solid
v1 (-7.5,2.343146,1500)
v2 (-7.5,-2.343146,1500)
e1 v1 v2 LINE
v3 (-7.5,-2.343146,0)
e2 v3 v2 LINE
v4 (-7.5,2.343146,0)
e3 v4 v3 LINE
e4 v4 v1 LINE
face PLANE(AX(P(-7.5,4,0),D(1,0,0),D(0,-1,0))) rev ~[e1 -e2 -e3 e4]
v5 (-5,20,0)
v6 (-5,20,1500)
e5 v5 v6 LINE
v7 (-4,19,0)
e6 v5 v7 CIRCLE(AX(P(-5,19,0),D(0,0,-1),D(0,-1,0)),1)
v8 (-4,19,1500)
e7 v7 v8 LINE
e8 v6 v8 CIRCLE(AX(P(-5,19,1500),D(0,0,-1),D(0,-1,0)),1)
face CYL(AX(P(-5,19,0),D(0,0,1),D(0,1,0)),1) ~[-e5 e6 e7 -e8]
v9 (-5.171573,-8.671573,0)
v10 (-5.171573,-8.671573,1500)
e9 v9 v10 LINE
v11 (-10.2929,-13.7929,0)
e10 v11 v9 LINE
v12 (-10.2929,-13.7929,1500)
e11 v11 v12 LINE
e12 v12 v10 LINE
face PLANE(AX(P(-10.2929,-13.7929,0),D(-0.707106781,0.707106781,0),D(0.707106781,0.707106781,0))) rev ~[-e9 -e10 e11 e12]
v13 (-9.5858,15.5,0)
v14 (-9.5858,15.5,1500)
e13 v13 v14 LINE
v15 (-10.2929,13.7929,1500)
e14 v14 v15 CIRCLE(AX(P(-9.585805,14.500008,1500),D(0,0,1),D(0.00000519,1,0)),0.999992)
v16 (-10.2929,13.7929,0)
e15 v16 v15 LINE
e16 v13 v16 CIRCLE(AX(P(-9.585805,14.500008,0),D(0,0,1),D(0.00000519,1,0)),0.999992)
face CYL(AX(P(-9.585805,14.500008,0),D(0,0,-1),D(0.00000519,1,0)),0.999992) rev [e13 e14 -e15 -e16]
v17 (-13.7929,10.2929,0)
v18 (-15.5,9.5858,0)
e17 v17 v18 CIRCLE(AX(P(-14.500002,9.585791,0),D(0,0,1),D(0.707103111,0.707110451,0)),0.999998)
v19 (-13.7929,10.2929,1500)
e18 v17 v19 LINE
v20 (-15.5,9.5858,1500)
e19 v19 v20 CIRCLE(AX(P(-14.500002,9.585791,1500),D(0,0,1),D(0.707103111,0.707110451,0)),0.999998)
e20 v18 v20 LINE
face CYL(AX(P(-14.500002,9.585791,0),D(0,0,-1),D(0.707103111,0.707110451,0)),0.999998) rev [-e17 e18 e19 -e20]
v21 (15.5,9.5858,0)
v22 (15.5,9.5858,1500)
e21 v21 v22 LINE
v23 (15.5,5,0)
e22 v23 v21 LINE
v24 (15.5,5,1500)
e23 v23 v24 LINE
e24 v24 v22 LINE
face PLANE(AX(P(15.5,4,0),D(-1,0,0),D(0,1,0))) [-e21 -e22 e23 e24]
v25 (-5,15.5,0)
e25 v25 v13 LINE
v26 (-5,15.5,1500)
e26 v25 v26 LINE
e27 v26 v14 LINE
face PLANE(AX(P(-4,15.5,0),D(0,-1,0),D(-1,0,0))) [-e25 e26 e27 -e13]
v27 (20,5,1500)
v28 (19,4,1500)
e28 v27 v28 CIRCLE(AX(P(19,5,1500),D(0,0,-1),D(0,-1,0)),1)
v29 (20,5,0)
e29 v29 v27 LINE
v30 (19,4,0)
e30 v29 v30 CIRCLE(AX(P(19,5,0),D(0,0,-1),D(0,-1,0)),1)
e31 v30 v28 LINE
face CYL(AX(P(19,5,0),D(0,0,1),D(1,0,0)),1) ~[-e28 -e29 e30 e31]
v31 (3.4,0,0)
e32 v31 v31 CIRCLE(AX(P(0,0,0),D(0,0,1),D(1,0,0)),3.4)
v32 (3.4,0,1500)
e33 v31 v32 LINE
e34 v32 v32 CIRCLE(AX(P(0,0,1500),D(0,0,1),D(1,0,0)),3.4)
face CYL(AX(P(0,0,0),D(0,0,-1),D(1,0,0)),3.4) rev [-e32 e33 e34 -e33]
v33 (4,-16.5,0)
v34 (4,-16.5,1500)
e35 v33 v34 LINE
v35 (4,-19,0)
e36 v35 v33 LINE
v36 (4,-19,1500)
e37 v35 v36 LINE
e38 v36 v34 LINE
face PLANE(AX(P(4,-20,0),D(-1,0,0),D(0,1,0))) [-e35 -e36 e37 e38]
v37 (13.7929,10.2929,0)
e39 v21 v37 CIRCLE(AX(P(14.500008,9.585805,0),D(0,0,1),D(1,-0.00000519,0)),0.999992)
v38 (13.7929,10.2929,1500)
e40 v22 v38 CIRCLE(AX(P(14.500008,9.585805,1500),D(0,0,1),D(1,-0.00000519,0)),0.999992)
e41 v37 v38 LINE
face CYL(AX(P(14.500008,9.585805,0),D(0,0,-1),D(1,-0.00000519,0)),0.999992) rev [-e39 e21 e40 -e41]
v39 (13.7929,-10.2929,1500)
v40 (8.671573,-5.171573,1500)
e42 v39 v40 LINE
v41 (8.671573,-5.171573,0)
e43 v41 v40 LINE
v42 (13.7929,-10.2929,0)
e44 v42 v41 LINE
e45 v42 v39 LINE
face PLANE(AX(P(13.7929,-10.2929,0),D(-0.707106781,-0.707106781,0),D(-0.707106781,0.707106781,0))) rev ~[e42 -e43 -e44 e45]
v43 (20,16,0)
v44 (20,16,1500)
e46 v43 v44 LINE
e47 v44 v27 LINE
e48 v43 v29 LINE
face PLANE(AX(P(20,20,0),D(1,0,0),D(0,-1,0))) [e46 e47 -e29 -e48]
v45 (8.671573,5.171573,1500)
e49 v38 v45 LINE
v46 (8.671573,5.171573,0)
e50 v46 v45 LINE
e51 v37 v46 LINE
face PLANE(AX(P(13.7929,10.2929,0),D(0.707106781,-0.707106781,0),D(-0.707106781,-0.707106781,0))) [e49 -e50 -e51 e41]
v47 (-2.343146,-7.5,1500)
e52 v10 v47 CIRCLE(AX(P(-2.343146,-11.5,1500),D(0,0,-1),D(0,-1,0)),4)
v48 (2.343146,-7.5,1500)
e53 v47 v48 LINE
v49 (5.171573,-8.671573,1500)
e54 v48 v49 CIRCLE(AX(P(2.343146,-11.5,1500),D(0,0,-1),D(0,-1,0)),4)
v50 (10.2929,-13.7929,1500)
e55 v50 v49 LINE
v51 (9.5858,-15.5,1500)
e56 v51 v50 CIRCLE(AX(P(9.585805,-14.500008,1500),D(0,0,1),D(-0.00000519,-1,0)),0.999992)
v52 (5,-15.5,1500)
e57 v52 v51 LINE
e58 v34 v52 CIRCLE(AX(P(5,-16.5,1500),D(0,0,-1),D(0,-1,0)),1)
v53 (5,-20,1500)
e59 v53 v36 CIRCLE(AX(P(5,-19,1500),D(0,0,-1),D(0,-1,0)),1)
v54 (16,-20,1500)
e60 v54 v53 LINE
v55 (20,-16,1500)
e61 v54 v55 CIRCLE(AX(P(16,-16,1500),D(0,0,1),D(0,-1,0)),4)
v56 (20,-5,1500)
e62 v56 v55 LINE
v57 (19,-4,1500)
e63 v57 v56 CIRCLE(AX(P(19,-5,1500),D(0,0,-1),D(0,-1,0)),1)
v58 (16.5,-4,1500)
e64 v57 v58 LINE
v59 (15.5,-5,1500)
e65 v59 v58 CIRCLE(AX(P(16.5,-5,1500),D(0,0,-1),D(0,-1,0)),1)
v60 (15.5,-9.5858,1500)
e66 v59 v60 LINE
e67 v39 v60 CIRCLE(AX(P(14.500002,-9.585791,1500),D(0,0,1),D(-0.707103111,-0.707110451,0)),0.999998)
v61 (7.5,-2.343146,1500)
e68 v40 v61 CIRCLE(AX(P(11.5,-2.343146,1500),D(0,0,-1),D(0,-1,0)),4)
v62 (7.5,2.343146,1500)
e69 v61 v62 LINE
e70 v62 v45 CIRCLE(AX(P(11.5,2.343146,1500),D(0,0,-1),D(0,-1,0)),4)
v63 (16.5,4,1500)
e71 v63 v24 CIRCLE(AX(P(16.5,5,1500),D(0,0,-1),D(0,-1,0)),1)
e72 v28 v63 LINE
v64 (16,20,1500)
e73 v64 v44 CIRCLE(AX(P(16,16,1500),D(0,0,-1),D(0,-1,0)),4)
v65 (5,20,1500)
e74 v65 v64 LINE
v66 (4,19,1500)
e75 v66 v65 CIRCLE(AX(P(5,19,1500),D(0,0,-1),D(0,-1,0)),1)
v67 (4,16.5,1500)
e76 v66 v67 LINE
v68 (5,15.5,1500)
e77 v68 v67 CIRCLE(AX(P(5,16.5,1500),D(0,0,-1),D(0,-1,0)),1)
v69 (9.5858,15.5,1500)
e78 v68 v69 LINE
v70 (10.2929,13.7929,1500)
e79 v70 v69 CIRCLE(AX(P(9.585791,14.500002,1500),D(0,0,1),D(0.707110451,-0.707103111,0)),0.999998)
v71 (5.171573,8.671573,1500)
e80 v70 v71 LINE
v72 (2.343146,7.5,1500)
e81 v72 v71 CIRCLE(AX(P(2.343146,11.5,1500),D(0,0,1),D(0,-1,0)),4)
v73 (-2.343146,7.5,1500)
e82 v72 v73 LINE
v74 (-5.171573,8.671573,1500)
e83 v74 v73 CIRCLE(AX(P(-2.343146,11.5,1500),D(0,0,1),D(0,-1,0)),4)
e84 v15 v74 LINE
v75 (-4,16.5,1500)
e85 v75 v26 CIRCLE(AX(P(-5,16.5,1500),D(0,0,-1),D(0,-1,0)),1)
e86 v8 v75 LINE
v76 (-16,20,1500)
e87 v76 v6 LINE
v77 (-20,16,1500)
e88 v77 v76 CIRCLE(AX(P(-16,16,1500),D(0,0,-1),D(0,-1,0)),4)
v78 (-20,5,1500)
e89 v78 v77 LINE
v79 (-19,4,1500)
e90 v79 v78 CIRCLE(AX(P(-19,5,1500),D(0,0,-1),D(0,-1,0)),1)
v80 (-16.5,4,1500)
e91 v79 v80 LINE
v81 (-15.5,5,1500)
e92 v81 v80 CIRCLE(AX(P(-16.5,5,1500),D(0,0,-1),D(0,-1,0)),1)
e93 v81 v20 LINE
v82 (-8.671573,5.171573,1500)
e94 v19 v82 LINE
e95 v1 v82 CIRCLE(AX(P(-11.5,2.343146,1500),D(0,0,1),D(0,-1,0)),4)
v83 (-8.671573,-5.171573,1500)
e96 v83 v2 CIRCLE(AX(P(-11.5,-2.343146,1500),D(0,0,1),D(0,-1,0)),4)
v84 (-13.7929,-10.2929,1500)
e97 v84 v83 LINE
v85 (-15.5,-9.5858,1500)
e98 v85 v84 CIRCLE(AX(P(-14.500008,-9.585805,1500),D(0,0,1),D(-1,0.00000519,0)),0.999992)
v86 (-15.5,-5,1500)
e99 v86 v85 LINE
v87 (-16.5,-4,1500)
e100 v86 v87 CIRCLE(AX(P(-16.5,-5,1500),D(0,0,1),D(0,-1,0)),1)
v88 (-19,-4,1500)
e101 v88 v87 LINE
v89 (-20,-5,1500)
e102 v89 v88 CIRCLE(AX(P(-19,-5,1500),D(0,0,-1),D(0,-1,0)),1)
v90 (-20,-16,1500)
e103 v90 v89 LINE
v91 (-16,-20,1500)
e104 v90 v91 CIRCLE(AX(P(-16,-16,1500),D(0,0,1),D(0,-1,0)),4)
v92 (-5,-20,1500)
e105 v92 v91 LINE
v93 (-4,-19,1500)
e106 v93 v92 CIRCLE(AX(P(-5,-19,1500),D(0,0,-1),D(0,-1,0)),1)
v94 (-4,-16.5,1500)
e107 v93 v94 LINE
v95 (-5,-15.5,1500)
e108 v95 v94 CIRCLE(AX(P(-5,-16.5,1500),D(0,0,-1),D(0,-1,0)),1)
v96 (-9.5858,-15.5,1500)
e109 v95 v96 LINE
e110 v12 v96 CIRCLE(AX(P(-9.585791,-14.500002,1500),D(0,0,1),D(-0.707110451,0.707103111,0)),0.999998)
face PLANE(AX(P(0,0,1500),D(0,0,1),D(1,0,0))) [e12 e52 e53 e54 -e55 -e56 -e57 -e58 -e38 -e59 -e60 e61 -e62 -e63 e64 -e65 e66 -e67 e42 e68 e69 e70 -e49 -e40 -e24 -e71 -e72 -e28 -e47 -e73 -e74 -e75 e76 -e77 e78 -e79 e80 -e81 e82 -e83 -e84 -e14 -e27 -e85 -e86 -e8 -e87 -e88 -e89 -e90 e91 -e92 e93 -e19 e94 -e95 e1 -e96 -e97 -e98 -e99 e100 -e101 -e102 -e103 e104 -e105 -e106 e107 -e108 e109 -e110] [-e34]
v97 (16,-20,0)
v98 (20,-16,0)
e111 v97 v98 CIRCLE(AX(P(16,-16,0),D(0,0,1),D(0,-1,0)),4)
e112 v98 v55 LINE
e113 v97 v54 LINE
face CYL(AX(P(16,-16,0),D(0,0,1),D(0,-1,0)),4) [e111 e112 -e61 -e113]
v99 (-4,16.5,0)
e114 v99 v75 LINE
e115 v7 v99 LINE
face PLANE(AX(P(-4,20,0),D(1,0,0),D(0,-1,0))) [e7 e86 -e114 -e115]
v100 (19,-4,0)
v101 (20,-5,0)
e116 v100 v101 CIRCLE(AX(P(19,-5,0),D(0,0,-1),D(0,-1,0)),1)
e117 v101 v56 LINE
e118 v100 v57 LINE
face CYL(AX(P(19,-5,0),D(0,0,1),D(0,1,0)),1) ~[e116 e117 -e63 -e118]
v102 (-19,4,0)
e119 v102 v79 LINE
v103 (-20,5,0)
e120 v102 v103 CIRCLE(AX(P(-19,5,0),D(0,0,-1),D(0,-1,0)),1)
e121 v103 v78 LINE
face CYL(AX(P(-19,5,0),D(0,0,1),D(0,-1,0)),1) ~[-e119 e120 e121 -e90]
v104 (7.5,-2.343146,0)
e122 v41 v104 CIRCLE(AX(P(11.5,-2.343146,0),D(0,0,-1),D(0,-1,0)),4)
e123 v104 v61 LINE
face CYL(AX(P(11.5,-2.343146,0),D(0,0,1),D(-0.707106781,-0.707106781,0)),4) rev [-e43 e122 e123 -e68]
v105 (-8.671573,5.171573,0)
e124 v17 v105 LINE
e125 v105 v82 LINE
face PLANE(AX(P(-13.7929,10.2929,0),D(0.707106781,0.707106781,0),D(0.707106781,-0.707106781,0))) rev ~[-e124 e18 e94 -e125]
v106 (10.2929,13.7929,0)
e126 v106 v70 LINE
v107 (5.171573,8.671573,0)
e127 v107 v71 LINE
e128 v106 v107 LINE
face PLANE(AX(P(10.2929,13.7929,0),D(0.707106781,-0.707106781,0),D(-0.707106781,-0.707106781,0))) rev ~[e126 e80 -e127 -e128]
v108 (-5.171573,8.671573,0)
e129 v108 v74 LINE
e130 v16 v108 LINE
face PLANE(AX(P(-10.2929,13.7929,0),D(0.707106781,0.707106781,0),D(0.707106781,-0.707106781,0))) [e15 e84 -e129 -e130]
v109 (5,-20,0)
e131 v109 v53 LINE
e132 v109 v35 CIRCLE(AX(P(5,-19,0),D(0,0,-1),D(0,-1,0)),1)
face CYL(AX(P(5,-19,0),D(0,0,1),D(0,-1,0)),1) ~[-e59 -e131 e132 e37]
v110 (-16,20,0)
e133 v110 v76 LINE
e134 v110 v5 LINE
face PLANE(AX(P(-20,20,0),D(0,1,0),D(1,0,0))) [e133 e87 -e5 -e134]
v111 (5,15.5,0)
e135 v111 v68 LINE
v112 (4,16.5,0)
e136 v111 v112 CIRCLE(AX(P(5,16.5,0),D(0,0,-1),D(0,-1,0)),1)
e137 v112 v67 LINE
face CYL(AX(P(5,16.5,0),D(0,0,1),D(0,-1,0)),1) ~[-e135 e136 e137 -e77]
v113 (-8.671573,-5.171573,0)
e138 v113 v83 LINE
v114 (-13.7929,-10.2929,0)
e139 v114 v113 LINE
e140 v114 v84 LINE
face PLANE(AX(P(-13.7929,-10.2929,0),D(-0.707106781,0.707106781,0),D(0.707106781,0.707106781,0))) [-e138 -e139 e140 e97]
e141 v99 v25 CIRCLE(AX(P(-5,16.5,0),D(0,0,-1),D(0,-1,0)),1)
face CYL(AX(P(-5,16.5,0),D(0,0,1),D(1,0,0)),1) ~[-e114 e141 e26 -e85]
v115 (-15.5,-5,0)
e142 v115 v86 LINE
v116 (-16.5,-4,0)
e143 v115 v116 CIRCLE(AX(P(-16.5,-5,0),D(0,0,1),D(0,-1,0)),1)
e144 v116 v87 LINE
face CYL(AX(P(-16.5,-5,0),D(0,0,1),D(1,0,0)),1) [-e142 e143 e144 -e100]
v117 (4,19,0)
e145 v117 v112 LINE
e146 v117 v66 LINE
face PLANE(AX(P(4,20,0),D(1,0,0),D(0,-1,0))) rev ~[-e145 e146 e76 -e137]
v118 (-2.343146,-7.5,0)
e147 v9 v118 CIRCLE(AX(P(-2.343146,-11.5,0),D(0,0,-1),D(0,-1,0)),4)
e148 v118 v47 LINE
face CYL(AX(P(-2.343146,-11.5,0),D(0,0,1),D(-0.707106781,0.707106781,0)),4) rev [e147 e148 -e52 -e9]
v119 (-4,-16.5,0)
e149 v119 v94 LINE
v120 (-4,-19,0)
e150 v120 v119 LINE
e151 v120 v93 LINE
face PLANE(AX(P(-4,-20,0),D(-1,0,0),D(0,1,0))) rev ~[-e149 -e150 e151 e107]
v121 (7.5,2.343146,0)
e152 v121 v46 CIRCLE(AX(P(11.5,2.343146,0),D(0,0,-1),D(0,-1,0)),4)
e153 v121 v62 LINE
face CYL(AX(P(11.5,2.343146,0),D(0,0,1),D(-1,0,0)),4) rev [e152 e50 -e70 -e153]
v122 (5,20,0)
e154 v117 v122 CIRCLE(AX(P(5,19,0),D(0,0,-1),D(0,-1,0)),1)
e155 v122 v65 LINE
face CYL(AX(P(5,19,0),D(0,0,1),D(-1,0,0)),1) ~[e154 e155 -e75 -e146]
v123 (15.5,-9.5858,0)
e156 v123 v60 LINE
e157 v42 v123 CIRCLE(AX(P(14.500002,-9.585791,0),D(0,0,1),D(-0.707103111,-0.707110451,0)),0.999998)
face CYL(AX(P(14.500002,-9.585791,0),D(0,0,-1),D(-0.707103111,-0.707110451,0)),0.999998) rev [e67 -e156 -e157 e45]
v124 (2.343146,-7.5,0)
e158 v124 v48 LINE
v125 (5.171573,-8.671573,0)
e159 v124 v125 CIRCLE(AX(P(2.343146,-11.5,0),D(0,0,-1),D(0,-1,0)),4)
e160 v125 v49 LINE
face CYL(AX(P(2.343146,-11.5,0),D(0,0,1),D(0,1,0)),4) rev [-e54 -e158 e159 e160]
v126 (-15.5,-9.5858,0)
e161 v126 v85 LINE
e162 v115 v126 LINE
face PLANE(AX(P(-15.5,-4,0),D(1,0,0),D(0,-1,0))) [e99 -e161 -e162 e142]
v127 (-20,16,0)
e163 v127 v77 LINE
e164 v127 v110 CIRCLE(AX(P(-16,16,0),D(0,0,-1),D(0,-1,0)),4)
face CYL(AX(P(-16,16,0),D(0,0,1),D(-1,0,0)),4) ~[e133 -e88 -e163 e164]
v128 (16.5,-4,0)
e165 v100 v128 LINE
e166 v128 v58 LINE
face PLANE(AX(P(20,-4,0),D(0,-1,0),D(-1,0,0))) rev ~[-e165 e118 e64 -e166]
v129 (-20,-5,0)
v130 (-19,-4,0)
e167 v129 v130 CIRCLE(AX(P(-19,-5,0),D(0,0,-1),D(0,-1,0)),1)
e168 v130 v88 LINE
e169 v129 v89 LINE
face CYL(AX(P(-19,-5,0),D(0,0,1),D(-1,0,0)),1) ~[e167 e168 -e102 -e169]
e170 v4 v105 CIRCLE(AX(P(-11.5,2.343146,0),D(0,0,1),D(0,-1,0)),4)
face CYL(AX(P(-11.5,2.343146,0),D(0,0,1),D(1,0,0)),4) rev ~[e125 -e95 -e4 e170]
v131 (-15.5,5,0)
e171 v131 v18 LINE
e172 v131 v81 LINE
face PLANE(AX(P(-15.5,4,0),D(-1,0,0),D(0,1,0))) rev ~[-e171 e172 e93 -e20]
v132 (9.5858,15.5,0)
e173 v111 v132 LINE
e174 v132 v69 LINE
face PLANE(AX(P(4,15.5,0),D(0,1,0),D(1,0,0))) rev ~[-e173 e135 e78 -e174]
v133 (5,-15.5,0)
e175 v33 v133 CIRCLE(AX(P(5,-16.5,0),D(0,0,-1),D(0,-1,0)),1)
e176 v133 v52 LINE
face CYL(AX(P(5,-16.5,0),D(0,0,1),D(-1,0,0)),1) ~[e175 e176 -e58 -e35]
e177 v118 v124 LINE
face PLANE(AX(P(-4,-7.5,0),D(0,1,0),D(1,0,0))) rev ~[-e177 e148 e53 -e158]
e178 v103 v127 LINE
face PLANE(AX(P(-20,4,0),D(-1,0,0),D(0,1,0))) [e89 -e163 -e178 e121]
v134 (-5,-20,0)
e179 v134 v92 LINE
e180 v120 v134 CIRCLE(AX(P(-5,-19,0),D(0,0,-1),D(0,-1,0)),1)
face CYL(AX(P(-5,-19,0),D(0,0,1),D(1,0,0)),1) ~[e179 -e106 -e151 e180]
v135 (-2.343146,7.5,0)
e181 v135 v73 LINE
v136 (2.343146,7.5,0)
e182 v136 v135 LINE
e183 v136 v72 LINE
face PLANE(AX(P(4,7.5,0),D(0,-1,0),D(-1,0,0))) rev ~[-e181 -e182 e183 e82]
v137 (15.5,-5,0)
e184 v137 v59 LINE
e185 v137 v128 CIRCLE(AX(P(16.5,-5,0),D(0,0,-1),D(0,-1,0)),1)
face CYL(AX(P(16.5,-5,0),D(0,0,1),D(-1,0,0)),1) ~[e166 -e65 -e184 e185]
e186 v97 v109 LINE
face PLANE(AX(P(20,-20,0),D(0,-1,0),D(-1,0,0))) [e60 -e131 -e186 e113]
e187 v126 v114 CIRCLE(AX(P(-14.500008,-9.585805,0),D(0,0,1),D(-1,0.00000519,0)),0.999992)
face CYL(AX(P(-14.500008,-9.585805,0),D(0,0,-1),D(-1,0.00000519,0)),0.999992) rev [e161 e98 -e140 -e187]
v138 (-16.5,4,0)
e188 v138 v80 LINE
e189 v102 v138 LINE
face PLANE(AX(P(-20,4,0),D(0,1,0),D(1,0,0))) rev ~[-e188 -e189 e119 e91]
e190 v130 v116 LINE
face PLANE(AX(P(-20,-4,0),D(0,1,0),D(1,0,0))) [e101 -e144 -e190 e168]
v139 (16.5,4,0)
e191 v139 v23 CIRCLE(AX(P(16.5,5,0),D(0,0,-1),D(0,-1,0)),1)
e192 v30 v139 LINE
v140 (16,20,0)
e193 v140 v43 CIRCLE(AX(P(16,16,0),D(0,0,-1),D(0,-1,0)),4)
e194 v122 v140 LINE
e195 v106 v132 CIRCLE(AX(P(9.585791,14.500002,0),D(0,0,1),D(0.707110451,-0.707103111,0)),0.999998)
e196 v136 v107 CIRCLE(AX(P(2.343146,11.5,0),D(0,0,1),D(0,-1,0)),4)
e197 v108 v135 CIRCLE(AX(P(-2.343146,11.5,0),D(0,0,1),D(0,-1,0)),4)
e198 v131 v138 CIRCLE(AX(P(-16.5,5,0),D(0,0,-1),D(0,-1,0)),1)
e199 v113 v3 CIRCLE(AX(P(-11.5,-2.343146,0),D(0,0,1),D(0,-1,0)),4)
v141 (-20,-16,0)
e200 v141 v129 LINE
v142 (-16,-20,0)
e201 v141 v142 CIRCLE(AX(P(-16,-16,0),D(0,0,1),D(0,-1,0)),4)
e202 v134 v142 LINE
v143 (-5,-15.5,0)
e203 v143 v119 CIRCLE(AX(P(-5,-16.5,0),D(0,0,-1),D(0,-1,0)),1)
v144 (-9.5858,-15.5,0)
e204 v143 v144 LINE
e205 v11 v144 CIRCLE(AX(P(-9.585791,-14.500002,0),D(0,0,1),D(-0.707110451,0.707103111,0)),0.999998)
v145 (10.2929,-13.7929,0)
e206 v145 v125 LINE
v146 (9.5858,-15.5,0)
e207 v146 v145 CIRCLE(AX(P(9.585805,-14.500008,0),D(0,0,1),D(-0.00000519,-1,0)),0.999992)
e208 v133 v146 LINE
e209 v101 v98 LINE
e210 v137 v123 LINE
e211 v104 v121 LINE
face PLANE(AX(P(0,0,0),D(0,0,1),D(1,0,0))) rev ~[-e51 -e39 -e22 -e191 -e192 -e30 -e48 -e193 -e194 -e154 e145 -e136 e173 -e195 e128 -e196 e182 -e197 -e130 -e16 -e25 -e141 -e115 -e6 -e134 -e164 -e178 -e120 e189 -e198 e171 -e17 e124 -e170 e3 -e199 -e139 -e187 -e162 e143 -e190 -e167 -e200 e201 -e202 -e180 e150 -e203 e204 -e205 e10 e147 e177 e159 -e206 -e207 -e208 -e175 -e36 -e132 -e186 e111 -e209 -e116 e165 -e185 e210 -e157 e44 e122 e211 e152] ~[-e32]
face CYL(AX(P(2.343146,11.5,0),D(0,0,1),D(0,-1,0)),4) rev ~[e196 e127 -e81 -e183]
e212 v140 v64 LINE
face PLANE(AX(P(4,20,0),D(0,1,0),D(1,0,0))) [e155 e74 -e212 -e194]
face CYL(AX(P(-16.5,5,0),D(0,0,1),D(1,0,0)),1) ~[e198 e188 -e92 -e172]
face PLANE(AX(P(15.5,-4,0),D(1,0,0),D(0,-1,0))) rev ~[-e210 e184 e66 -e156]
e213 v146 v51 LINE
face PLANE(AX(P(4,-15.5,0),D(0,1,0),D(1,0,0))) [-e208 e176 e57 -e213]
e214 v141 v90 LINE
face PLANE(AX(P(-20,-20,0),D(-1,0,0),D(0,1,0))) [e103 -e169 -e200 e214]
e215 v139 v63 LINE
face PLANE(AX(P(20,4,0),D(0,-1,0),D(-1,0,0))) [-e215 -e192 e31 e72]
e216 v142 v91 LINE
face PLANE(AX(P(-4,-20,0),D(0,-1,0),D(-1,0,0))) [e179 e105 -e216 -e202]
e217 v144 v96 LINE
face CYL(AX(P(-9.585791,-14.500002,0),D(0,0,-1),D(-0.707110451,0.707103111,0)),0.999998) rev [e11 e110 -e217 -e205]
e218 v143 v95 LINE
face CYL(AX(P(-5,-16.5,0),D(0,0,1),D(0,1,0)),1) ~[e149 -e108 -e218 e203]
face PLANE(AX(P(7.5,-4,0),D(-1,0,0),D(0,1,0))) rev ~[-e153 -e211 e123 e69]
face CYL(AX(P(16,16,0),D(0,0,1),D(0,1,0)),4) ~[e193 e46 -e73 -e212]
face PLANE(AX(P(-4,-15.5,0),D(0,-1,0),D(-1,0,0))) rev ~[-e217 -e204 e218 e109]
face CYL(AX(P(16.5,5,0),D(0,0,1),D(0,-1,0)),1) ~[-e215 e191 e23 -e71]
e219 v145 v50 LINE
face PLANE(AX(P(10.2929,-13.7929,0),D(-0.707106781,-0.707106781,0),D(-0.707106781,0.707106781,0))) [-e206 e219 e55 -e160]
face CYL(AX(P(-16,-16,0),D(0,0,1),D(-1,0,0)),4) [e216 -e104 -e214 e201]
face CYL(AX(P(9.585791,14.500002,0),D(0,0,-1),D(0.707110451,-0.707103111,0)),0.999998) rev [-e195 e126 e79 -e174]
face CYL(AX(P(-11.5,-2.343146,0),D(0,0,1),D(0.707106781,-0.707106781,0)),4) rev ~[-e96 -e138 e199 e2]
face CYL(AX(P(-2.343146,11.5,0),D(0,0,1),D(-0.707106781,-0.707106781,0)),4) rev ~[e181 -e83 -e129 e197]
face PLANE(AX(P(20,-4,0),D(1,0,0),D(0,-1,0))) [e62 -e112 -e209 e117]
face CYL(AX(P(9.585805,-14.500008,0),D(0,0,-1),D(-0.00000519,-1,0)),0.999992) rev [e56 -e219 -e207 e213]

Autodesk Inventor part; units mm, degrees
ref_plane "YZ Plane" through (0, 0, 0) normal (1, 0, 0) x (0, 1, 0)
ref_plane "XZ Plane" through (0, 0, 0) normal (0, 1, 0) x (-1, 0, 0)
ref_plane "XY Plane" through (0, 0, 0) normal (0, 0, 1) x (1, 0, 0)
sketch "T-Slot 4040 Base" plane through (0, 0, 0) normal (0, 0, 1) x (1, 0, 0)
  line L0 (-28, 0) -> (28, 0) construction
  line L1 (0, -28) -> (0, 28) construction
  circle A0 centre (0, 0) radius 3.4
  line L2 (-7.5, -7.5) -> (7.5, -7.5)
  line L3 (7.5, -7.5) -> (7.5, 7.5)
  line L4 (7.5, 7.5) -> (-7.5, 7.5)
  line L5 (-7.5, 7.5) -> (-7.5, -7.5)
  line L6 (-7.5, -7.5) -> (7.5, 7.5) construction
  line L7 (7.5, -7.5) -> (-7.5, 7.5) construction
  line L8 (20, 4) -> (15.5, 4)
  line L9 (15.5, 4) -> (15.5, 12)
  line L10 (15.5, 12) -> (7.5, 4)
  line L11 (4, 20) -> (4, 15.5)
  line L12 (4, 15.5) -> (12, 15.5)
  line L13 (12, 15.5) -> (4, 7.5)
  line L14 (7.5, -7.5) -> (-7.5, -7.5)
  arc A1 (15.5, 9.5858) -> (13.7929, 10.2929) centre (14.5, 9.5858) ccw
  arc A2 (10.2929, 13.7929) -> (9.5858, 15.5) centre (9.5858, 14.5) ccw
  line L15 (-20, 20) -> (20, 20)
  line L16 (20, 20) -> (20, -20)
  line L17 (20, -20) -> (-20, -20)
  line L18 (-20, -20) -> (-20, 20)
  line L19 (-20, 20) -> (20, -20) construction
  line L20 (20, 20) -> (-20, -20) construction
  line L21 (-4, 15.5) -> (-12, 15.5)
  arc A3 (-9.5858, 15.5) -> (-10.2929, 13.7929) centre (-9.5858, 14.5) ccw
  line L22 (-12, 15.5) -> (-4, 7.5)
  line L23 (-15.5, 12) -> (-7.5, 4)
  line L24 (-20, 4) -> (-15.5, 4)
  arc A4 (-13.7929, 10.2929) -> (-15.5, 9.5858) centre (-14.5, 9.5858) ccw
  line L25 (-15.5, 4) -> (-15.5, 12)
  line L26 (-4, 20) -> (-4, 15.5)
  line L27 (-15.5, -4) -> (-15.5, -12)
  arc A5 (-15.5, -9.5858) -> (-13.7929, -10.2929) centre (-14.5, -9.5858) ccw
  line L28 (-15.5, -12) -> (-7.5, -4)
  line L29 (-12, -15.5) -> (-4, -7.5)
  line L30 (-4, -20) -> (-4, -15.5)
  arc A6 (-10.2929, -13.7929) -> (-9.5858, -15.5) centre (-9.5858, -14.5) ccw
  line L31 (-4, -15.5) -> (-12, -15.5)
  line L32 (-20, -4) -> (-15.5, -4)
  line L33 (4, -15.5) -> (12, -15.5)
  arc A7 (9.5858, -15.5) -> (10.2929, -13.7929) centre (9.5858, -14.5) ccw
  line L34 (12, -15.5) -> (4, -7.5)
  line L35 (15.5, -12) -> (7.5, -4)
  line L36 (20, -4) -> (15.5, -4)
  arc A8 (13.7929, -10.2929) -> (15.5, -9.5858) centre (14.5, -9.5858) ccw
  line L37 (15.5, -4) -> (15.5, -12)
  line L38 (4, -20) -> (4, -15.5)
  point P0 (4.9274, 7.75)
  point P1 (9.5858, 15.5)
  point P2 (-20, 20)
  point P3 (-7.5, -7.5)
  point P4 (-20, -20)
  point P5 (7.5, -7.5)
  point P6 (20, -20)
  point P7 (-9.5858, -15.5)
  point P8 (-4, -7.5)
  point P9 (15.5, -9.5858)
  point P10 (7.5, -4)
  point P11 (-15.5, 9.5858)
  point P12 (-4, 7.5)
  dimension "d35" = 6.8
  dimension "d37" = 12
  dimension "d38" = 1
  dimension "d43" = 40
  dimension "d44" = 40
  dimension "d45" = 4.5
  dimension "d46" = 4
  dimension "d53" = 360
extrude "Extrusion1" add sketch "T-Slot 4040 Base" along normal blind 1500 contours L5 L4 L3 L2 | L2 L29 L31 L30 L17 L18 L32 L27 L28 L5 | L2 L3 L35 L37 L36 L16 L17 L38 L33 L34 | A6 L31 L29 | L23 L25 L24 L18 L15 L26 L21 L22 L4 L5 | L28 L27 A5 | L34 L33 A7 | A4 L25 L23 | L3 L4 L13 L12 L11 L15 L16 L8 L9 L10 | A8 L37 L35 | L22 L21 A3 | L10 L9 A1 | A2 L12 L13
fillet "Rundung1" radius 1 16 edges at (4, 15.5, 750) (15.5, 4, 750) (20, 4, 750) (4, 20, 750) (-20, 4, 750) (-15.5, 4, 750) (-4, 15.5, 750) (-4, 20, 750) (-4, -15.5, 750) (-4, -20, 750) (4, -15.5, 750) (4, -20, 750) (15.5, -4, 750) (20, -4, 750) (-20, -4, 750) (-15.5, -4, 750)
fillet "Rundung2" radius 4 12 edges at (4, 7.5, 750) (7.5, 4, 750) (-20, 20, 750) (-20, -20, 750) (20, 20, 750) (20, -20, 750) (7.5, -4, 750) (-7.5, -4, 750) (-7.5, 4, 750) (4, -7.5, 750) (-4, -7.5, 750) (-4, 7.5, 750)
properties part number "T-SLOT 4040 B-Type 1500mm"
